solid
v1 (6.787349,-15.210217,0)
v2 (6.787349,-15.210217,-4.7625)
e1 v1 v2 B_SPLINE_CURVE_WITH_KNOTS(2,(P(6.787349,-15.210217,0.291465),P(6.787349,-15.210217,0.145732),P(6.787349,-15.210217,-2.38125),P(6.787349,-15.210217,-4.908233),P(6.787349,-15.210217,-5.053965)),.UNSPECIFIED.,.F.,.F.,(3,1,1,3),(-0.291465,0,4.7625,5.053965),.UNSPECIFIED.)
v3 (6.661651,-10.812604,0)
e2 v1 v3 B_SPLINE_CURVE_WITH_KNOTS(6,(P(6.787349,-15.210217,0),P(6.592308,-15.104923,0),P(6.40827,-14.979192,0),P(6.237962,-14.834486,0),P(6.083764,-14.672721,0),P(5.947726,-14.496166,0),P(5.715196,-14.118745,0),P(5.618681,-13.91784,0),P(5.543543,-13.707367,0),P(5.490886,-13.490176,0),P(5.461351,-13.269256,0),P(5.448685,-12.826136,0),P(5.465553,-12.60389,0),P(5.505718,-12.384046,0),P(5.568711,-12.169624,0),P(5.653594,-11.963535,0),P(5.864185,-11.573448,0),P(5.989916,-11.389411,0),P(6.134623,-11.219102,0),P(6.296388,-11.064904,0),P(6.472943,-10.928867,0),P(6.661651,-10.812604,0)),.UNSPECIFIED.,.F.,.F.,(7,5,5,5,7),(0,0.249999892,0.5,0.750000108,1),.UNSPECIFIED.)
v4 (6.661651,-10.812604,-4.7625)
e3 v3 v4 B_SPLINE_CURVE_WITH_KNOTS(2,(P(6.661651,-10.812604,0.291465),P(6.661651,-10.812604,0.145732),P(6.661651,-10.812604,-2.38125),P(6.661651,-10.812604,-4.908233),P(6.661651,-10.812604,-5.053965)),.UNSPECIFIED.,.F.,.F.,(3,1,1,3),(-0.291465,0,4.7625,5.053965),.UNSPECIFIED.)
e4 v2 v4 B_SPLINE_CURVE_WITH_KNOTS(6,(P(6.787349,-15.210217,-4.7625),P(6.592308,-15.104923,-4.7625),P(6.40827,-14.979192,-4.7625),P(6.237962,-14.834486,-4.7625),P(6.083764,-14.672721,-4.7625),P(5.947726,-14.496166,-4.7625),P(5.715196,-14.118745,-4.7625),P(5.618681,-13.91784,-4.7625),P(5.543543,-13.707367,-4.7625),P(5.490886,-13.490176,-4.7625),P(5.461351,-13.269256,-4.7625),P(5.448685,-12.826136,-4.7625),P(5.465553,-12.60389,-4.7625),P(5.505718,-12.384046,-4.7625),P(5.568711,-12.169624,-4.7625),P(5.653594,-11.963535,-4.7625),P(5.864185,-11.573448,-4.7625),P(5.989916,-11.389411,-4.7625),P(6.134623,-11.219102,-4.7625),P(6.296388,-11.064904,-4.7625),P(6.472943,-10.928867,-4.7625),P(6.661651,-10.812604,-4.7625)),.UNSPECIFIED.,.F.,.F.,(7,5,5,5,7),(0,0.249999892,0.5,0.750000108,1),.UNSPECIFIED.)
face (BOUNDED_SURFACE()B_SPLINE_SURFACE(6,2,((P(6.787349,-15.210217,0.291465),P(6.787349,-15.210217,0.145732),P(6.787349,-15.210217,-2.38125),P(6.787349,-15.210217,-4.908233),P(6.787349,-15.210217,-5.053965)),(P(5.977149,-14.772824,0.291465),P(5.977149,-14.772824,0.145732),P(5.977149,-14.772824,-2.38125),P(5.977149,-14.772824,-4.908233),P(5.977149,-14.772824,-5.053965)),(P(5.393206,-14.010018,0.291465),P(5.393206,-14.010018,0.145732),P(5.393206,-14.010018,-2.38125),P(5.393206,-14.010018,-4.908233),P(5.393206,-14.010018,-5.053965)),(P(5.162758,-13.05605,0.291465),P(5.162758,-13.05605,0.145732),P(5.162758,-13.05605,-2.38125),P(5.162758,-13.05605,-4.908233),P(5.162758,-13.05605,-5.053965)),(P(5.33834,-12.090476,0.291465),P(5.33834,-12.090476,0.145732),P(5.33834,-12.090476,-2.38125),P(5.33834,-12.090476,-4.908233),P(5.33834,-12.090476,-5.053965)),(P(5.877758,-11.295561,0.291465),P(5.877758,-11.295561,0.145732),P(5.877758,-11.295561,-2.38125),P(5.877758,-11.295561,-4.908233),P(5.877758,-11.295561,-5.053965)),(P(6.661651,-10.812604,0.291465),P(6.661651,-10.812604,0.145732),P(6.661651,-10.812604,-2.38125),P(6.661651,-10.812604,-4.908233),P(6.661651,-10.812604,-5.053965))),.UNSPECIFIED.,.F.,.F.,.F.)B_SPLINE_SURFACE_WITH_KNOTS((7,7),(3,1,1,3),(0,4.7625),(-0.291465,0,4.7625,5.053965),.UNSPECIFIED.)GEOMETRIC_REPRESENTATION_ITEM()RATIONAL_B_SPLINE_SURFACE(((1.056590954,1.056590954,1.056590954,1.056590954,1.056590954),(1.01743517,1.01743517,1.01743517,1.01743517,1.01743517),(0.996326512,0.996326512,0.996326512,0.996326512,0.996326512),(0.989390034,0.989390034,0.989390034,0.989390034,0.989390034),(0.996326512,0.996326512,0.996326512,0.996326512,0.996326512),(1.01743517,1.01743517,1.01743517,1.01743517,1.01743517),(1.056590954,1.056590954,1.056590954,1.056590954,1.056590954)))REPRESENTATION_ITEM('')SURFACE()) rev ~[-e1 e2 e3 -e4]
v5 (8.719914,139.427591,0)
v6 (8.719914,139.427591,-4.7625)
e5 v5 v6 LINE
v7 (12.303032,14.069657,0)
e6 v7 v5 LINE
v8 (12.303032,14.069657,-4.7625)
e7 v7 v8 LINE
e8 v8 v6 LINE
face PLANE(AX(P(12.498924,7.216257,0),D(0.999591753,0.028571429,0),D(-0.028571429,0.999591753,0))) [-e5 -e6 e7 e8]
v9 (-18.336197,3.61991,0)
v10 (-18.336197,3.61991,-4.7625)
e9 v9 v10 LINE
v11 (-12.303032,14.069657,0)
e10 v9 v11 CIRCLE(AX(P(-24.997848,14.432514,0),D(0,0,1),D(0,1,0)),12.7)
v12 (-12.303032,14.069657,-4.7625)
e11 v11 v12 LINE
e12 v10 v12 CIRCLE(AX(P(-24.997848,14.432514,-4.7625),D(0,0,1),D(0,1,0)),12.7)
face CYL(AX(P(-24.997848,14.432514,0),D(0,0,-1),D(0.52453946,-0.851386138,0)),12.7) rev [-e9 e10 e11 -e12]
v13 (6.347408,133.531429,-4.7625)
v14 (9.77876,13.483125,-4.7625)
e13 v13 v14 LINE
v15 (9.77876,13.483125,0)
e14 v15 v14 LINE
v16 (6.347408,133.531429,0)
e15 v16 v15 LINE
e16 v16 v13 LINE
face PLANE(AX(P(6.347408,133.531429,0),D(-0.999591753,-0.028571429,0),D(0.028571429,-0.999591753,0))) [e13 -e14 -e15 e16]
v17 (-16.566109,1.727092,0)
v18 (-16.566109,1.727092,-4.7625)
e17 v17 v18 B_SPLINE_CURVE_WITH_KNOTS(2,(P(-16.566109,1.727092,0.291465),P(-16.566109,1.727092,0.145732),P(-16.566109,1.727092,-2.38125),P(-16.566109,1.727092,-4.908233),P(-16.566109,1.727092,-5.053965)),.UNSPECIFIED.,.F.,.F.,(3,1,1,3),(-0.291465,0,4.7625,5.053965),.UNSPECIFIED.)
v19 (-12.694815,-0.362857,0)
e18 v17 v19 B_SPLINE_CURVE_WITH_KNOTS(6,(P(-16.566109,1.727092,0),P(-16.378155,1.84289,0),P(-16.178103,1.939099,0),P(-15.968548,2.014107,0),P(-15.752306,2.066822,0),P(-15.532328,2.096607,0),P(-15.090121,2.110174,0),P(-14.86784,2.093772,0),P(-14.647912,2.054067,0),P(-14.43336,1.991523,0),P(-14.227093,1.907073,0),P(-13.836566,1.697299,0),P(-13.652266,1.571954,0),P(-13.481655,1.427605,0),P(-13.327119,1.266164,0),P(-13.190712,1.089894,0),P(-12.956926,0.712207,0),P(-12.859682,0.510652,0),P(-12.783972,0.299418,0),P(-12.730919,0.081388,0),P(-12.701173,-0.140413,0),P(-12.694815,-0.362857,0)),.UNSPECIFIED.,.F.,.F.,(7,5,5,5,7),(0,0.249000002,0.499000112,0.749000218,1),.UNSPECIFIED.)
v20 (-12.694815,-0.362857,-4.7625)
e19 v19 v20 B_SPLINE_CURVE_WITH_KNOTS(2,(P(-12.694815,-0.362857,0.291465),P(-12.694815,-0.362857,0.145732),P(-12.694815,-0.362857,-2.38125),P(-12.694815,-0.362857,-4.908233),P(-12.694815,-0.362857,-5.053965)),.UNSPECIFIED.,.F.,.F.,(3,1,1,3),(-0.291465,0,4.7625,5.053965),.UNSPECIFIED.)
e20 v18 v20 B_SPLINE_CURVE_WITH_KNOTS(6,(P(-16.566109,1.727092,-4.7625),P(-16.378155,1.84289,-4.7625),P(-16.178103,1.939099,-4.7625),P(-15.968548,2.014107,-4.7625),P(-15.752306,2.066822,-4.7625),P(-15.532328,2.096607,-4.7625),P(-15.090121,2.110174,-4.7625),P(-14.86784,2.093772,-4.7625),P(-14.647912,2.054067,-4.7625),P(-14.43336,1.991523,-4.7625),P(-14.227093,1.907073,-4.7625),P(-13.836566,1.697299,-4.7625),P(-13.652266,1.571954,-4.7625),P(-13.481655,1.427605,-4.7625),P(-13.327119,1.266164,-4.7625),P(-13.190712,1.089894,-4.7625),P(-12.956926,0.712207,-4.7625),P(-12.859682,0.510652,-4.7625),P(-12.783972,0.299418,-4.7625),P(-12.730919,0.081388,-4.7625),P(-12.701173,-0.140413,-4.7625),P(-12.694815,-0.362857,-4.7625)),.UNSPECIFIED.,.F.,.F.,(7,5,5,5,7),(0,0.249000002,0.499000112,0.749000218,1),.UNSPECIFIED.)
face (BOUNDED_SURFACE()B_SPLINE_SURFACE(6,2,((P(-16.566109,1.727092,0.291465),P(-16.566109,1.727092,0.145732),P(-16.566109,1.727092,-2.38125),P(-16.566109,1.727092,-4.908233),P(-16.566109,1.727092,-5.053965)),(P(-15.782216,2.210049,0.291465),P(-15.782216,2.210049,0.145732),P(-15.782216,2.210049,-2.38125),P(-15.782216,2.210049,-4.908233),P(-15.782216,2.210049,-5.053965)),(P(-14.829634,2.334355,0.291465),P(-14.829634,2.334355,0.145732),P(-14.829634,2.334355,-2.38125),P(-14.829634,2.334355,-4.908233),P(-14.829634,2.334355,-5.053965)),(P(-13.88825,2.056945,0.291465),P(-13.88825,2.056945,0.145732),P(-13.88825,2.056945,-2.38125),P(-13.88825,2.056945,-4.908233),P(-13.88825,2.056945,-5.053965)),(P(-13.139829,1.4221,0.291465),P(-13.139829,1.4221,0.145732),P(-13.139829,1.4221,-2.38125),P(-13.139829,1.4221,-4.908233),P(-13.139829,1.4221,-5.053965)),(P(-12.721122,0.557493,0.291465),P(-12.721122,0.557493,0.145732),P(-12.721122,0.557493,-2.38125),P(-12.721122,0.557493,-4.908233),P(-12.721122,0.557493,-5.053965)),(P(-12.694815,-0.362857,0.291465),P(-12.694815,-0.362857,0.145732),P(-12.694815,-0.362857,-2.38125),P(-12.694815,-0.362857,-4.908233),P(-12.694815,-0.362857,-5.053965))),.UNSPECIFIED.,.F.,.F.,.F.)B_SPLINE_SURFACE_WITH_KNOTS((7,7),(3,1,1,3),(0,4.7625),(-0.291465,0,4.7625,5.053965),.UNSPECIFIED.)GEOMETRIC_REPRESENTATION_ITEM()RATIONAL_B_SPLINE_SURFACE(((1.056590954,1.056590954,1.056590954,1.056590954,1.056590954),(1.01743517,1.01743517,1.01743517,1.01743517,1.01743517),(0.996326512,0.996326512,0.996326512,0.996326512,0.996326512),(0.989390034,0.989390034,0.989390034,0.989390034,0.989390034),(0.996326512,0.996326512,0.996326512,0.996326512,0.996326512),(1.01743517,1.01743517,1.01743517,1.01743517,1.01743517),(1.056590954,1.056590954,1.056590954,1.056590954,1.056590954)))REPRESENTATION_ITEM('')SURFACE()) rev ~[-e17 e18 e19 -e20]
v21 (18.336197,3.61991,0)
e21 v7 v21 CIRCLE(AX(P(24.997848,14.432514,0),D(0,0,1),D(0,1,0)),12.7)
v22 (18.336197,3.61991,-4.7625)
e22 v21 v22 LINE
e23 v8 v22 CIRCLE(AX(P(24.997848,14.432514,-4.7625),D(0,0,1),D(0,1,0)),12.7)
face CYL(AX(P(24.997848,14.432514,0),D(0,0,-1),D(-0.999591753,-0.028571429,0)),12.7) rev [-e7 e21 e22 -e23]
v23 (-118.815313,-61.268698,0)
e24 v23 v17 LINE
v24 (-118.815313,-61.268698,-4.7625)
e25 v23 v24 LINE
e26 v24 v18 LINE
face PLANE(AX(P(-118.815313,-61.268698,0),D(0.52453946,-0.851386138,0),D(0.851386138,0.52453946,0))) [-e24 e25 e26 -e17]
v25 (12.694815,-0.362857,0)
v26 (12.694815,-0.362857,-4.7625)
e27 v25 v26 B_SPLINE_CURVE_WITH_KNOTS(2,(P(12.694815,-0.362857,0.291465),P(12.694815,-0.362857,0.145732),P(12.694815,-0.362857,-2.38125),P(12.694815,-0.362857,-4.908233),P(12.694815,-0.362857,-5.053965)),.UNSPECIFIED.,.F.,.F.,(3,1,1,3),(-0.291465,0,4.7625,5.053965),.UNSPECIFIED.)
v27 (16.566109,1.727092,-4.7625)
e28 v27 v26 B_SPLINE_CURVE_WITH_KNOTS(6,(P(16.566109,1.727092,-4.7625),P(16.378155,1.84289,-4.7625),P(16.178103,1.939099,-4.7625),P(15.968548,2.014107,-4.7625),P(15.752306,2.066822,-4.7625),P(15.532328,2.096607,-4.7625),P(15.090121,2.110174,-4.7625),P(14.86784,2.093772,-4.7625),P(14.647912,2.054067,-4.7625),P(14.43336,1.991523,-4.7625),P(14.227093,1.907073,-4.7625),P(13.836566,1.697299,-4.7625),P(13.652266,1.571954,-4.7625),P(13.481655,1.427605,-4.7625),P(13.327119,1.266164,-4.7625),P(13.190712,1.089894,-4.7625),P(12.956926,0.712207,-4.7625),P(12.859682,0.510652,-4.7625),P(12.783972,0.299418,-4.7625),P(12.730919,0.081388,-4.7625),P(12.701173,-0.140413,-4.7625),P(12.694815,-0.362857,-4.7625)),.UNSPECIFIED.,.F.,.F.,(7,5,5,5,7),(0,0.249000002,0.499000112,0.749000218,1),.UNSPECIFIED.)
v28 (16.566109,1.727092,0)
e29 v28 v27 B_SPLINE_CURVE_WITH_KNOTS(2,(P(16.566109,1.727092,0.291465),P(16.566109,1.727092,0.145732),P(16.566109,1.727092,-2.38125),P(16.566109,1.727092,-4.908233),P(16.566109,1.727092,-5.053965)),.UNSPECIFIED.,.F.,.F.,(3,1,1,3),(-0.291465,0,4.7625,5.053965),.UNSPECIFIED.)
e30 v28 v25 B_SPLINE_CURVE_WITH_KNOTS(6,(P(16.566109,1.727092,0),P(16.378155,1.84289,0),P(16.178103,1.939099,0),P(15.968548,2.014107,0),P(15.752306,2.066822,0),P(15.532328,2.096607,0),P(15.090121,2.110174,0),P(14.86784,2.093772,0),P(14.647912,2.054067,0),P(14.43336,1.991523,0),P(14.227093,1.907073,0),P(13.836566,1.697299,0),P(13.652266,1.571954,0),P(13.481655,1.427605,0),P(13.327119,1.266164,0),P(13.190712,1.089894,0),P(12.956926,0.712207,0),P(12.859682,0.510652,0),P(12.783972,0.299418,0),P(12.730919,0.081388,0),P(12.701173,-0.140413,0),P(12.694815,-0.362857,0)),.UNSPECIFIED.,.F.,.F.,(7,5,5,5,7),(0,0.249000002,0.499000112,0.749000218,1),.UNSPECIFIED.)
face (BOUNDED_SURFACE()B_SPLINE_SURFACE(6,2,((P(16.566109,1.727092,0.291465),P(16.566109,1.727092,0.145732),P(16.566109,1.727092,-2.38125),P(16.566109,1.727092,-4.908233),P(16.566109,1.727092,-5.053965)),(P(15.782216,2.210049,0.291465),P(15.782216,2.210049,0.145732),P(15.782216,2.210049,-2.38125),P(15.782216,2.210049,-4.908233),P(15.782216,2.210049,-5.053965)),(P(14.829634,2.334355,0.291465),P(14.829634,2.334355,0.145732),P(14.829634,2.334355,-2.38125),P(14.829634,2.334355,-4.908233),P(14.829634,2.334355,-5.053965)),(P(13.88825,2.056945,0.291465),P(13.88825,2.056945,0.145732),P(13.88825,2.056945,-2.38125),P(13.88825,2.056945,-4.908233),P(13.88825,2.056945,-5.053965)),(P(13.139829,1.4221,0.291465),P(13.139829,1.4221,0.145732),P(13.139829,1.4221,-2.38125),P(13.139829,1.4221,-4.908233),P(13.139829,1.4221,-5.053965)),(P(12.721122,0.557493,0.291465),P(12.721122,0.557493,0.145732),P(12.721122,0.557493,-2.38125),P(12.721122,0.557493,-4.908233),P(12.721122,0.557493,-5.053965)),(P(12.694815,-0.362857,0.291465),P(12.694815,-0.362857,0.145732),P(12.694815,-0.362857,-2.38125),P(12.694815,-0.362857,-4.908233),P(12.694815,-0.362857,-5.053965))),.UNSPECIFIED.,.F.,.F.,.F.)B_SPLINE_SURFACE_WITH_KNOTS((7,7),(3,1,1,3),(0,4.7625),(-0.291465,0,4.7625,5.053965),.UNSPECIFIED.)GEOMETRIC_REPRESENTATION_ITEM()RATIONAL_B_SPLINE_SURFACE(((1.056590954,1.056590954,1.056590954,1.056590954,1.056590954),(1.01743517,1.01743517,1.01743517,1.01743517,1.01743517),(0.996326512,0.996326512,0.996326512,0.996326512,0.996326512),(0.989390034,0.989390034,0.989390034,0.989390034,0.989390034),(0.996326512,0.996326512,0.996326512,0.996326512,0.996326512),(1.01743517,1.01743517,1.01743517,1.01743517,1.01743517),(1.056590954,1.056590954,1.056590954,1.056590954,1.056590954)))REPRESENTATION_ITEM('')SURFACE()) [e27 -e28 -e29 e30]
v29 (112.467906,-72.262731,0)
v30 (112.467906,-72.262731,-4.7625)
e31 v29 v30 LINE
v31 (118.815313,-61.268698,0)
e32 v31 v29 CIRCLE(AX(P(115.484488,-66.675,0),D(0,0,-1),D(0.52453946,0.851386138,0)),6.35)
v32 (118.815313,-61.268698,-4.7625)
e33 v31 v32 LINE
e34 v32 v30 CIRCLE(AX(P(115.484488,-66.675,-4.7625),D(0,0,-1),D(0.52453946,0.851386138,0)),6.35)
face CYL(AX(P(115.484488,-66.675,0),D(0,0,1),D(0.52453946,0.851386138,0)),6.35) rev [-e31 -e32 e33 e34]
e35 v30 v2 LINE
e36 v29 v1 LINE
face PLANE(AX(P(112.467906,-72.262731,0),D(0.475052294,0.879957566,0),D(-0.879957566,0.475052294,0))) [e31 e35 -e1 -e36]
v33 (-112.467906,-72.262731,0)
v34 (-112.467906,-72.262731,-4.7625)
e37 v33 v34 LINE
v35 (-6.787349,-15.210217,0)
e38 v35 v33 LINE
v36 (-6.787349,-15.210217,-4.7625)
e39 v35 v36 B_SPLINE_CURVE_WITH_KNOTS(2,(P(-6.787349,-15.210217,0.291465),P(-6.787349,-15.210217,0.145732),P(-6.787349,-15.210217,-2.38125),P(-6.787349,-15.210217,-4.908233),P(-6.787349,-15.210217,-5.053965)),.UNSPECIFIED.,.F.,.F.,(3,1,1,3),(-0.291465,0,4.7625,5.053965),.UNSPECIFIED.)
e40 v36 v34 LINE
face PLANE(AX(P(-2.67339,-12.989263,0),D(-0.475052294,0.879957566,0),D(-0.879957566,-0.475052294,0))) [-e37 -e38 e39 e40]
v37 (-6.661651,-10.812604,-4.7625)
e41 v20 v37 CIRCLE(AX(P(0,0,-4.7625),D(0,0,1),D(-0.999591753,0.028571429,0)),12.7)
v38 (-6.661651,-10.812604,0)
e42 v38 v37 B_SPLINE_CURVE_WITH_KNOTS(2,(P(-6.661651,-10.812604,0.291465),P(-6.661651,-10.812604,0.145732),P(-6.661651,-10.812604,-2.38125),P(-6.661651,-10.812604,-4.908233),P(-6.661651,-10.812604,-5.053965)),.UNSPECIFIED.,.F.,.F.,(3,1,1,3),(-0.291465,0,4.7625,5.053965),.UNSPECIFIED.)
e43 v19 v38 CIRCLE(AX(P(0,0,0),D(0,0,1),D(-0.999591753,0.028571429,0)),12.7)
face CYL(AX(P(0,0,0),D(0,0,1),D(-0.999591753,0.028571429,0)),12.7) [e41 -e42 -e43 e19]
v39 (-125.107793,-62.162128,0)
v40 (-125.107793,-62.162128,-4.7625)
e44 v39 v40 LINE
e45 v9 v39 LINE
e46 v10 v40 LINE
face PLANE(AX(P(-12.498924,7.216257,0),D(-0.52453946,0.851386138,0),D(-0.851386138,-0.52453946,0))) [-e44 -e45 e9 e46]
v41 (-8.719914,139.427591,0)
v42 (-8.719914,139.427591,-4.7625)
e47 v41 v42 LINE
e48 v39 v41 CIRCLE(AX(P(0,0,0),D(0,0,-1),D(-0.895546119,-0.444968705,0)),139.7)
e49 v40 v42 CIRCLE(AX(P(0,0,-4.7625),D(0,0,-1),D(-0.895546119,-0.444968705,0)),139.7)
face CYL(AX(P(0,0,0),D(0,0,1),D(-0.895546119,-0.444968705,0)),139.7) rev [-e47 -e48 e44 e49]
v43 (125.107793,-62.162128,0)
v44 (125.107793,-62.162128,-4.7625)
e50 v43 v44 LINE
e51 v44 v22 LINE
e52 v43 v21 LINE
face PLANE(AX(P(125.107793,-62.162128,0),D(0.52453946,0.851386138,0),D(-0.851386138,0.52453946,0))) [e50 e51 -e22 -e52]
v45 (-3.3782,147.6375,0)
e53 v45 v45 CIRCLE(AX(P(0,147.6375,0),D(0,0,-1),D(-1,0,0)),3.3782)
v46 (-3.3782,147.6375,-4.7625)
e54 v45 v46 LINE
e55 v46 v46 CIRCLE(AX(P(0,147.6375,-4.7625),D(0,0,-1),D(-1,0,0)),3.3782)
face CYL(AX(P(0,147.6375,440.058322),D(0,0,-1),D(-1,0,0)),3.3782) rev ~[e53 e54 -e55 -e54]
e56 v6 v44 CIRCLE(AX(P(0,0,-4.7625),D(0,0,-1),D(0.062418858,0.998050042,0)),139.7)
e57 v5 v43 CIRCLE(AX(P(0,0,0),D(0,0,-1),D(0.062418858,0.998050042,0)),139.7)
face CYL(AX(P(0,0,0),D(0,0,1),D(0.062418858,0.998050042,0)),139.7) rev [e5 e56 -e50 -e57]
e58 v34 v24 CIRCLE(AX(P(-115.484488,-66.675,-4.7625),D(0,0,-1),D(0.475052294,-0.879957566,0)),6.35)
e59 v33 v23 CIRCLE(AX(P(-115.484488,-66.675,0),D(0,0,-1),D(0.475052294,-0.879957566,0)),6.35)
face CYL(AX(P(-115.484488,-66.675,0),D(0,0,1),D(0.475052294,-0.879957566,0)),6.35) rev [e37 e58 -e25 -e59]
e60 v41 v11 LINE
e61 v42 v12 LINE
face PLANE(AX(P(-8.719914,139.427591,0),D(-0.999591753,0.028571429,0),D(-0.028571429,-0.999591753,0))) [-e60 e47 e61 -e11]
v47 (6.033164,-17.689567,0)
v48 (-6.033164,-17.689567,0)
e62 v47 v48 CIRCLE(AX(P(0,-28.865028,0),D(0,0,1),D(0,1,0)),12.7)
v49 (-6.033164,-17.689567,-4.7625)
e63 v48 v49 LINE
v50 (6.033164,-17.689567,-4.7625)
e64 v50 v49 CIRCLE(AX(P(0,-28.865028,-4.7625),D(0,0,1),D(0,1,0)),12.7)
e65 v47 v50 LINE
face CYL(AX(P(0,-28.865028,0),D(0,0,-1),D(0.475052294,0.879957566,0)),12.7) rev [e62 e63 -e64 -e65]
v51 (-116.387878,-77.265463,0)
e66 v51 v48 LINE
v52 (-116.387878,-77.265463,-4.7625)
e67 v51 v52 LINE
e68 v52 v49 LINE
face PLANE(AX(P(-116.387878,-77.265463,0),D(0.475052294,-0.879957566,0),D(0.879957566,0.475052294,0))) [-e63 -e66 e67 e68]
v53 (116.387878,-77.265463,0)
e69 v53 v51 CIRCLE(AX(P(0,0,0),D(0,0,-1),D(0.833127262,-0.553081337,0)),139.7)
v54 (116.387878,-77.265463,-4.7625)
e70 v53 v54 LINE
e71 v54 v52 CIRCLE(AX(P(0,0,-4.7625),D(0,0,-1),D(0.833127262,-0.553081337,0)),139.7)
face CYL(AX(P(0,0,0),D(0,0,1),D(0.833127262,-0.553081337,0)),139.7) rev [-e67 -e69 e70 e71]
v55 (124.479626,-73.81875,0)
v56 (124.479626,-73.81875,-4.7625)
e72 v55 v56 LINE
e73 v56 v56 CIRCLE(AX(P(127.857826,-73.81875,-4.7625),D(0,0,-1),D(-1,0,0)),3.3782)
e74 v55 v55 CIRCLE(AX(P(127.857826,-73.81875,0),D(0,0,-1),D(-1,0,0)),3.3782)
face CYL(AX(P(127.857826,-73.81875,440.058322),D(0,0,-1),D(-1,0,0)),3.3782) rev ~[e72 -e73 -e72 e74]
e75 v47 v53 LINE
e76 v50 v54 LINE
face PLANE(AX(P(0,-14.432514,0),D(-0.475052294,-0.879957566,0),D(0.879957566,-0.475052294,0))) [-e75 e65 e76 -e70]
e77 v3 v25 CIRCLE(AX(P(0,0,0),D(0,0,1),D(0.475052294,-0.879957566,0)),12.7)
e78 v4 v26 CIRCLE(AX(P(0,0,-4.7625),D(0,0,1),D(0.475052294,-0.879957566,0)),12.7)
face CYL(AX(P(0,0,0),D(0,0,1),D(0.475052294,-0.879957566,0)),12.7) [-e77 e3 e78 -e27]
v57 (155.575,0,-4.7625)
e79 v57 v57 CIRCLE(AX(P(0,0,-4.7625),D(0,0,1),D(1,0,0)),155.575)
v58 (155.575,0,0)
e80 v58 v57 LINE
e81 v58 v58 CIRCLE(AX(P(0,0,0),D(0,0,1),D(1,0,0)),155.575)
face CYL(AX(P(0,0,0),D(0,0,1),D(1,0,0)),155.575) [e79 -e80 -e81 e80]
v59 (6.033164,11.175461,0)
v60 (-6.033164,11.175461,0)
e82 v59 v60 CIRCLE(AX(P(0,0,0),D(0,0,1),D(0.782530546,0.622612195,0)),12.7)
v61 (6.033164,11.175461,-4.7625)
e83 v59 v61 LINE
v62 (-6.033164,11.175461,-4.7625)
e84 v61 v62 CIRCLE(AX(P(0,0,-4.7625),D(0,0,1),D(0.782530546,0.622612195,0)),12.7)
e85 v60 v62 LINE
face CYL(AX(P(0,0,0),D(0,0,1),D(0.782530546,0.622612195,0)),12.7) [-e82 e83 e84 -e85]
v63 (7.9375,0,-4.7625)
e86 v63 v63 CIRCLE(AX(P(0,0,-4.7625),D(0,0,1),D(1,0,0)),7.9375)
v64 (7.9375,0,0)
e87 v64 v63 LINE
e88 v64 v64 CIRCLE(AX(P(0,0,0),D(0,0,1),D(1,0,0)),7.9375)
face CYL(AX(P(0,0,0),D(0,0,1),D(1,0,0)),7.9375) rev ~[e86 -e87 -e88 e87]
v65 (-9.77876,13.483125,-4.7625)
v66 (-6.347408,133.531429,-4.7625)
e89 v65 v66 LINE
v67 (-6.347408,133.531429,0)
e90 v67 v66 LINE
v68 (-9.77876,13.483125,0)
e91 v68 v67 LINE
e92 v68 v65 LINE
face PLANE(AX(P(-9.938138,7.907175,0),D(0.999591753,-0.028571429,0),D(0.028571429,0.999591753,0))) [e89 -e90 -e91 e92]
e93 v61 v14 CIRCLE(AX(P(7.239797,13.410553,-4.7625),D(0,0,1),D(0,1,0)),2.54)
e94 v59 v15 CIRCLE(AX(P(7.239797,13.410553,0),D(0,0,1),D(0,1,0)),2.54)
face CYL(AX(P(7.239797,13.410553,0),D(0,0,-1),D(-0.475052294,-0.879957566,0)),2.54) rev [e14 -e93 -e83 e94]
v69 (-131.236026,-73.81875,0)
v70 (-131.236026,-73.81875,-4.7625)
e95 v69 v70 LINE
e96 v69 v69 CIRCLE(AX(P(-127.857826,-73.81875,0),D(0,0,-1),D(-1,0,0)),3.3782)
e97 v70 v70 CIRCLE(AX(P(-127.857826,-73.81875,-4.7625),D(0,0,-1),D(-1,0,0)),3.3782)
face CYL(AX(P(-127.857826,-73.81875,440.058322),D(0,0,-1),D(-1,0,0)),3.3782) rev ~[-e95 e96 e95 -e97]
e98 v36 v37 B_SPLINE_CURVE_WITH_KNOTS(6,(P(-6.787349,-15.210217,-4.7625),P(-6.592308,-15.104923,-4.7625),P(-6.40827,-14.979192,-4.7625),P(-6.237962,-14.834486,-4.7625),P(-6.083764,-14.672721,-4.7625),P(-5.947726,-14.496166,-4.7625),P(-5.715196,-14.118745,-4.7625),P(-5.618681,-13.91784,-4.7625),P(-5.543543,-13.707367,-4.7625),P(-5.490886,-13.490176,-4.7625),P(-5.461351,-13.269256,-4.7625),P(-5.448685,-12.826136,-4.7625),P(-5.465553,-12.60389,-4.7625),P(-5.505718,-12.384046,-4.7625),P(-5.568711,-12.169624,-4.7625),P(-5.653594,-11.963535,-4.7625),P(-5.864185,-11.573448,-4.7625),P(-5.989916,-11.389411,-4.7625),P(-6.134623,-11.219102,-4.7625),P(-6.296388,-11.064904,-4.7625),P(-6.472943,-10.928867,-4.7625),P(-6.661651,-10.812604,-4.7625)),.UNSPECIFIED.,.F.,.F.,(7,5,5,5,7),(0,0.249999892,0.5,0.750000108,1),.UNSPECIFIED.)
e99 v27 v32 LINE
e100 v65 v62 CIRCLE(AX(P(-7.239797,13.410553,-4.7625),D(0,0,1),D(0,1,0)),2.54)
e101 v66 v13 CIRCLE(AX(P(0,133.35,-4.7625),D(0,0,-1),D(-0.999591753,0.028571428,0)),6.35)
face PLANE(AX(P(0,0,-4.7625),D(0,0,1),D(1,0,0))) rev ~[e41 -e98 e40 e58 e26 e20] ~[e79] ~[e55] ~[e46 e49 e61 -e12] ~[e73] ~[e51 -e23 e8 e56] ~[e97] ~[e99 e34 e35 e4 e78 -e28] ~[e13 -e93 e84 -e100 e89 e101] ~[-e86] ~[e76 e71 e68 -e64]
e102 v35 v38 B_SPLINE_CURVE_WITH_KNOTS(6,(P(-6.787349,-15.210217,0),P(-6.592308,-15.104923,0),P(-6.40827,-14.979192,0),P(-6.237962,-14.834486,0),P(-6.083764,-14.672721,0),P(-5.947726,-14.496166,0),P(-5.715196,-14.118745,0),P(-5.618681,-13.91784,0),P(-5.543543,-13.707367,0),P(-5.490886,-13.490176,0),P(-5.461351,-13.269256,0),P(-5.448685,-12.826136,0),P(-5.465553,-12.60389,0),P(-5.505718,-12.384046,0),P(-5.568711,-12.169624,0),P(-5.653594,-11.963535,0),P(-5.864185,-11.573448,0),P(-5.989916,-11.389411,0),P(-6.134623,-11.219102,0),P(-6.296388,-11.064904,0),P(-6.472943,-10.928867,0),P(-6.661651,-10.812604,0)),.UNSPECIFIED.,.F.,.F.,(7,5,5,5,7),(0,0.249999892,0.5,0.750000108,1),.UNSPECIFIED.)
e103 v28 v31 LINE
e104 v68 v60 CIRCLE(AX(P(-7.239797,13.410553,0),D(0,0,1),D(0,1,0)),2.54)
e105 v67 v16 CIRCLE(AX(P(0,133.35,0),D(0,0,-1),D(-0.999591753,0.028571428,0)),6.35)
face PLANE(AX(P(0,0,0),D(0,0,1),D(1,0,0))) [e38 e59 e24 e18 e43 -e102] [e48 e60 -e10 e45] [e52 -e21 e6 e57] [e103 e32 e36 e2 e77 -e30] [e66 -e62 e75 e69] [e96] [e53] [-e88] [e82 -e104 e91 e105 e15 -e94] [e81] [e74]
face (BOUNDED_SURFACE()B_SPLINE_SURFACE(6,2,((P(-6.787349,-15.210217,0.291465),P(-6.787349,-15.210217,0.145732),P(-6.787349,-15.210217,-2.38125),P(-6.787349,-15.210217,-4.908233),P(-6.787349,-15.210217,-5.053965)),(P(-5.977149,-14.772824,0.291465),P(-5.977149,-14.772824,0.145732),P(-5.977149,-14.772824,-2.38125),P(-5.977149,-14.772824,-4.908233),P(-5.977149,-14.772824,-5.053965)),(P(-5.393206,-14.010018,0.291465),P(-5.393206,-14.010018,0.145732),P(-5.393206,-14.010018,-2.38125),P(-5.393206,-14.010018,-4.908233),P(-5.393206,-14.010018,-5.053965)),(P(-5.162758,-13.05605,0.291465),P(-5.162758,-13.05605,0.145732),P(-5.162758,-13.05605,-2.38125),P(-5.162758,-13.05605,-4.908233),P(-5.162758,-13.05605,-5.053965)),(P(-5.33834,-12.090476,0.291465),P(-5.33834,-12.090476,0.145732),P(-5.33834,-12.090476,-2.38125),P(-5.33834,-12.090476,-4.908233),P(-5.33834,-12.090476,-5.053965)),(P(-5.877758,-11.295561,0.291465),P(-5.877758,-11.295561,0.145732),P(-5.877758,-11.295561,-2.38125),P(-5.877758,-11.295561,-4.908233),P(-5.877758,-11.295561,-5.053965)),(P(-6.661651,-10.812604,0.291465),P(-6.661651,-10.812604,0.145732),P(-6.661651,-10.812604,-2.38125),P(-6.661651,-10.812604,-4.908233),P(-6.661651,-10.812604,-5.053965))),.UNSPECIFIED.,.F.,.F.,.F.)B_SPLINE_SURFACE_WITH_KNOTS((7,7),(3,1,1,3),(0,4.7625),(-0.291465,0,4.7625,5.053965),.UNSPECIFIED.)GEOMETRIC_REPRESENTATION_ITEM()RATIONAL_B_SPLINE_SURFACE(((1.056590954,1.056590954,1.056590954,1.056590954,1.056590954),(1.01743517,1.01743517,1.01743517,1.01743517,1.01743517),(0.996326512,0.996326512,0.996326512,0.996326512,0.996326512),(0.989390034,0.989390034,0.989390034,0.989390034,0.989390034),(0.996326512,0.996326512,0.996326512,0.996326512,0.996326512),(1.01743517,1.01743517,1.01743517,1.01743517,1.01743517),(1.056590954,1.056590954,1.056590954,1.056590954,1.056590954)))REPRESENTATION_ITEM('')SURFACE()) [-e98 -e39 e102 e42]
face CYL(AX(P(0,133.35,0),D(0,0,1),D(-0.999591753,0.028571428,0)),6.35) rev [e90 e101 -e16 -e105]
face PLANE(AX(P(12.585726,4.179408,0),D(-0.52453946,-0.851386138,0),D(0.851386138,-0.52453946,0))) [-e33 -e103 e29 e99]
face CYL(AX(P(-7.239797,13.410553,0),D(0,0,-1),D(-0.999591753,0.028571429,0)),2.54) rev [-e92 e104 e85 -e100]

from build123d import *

# Parameters (mm, degrees)
SKETCH1_R                = 155.575
SKETCH1_R_2              = 7.9375
BOSS_EXTRUDE1_DEPTH      = 4.7625
FILLET1_R                = 12.7
FILLET4_R                = 2.54
H_0_266_DIAMETER_HOLE1_D = 6.7564


with BuildPart() as part:
    # Sketch1 → Boss-Extrude1 (new body)
    with BuildSketch(Plane.XY):
        Circle(SKETCH1_R)
        with BuildLine():
            ThreePointArc((-125.107792883, -62.16212802), (-120.983748909, 69.85), (-8.719914422, 139.427590858))
            Line((-8.719914422, 139.427590858), (-12.49892387, 7.216257061))
            Line((-12.49892387, 7.216257061), (-125.107792883, -62.16212802))
        make_face(mode=Mode.SUBTRACT)
        with BuildLine():
            ThreePointArc((8.719914422, 139.427590858), (120.983748909, 69.85), (125.107792883, -62.16212802))
            Line((125.107792883, -62.16212802), (12.49892387, 7.216257061))
            Line((12.49892387, 7.216257061), (8.719914422, 139.427590858))
        make_face(mode=Mode.SUBTRACT)
        with BuildLine():
            ThreePointArc((116.38787846, -77.265462838), (0, -139.7), (-116.38787846, -77.265462838))
            Line((-116.38787846, -77.265462838), (0, -14.432514122))
            Line((0, -14.432514122), (116.38787846, -77.265462838))
        make_face(mode=Mode.SUBTRACT)
        with BuildLine():
            Line((-12.585726429, 4.179407795), (-12.694815268, 0.362857143))
            ThreePointArc((-12.694815268, 0.362857143), (-10.998522628, -6.35), (-6.03316413, -11.17546109))
            Line((-6.03316413, -11.17546109), (-2.673389891, -12.98926271))
            Line((-2.673389891, -12.98926271), (-112.467905529, -72.262730545))
            ThreePointArc((-112.467905529, -72.262730545), (-120.983748909, -69.85), (-118.815313164, -61.268698026))
            Line((-118.815313164, -61.268698026), (-12.585726429, 4.179407795))
        make_face(mode=Mode.SUBTRACT)
        with BuildLine():
            ThreePointArc((118.815313164, -61.268698026), (120.983748909, -69.85), (112.467905529, -72.262730545))
            Line((112.467905529, -72.262730545), (2.673389891, -12.98926271))
            Line((2.673389891, -12.98926271), (6.03316413, -11.17546109))
            ThreePointArc((6.03316413, -11.17546109), (10.998522628, -6.35), (12.694815268, 0.362857143))
            Line((12.694815268, 0.362857143), (12.585726429, 4.179407795))
            Line((12.585726429, 4.179407795), (118.815313164, -61.268698026))
        make_face(mode=Mode.SUBTRACT)
        Circle(SKETCH1_R_2, mode=Mode.SUBTRACT)
        with BuildLine():
            ThreePointArc((-6.347407634, 133.531428571), (0, 139.7), (6.347407634, 133.531428571))
            Line((6.347407634, 133.531428571), (9.938137929, 7.907174875))
            ThreePointArc((9.938137929, 7.907174875), (0, 12.7), (-9.938137929, 7.907174875))
            Line((-9.938137929, 7.907174875), (-6.347407634, 133.531428571))
        make_face(mode=Mode.SUBTRACT)
    extrude(amount=-BOSS_EXTRUDE1_DEPTH)

    # Fillet1
    fillet1_edges = [part.edges().sort_by_distance(p)[0] for p in [
        (12.49892387, 7.216257061, -2.38125),
        (0, -14.432514122, -2.38125),
        (-12.49892387, 7.216257061, -2.38125),
    ]]
    fillet(fillet1_edges, radius=FILLET1_R)

    # Fillet4
    fillet4_edges = [part.edges().sort_by_distance(p)[0] for p in [
        (12.585726429, 4.179407795, -2.38125),
        (2.673389891, -12.98926271, -2.38125),
        (-2.673389891, -12.98926271, -2.38125),
        (-12.585726429, 4.179407795, -2.38125),
        (-9.938137929, 7.907174875, -2.38125),
        (9.938137929, 7.907174875, -2.38125),
    ]]
    fillet(fillet4_edges, radius=FILLET4_R)

    # H (0.266) Diameter Hole1 (through all)
    with Locations(Plane.XY):
        with Locations((0, 147.6375), (127.857825551, -73.81875), (-127.857825551, -73.81875)):
            Hole(H_0_266_DIAMETER_HOLE1_D / 2)


solid = part.part
